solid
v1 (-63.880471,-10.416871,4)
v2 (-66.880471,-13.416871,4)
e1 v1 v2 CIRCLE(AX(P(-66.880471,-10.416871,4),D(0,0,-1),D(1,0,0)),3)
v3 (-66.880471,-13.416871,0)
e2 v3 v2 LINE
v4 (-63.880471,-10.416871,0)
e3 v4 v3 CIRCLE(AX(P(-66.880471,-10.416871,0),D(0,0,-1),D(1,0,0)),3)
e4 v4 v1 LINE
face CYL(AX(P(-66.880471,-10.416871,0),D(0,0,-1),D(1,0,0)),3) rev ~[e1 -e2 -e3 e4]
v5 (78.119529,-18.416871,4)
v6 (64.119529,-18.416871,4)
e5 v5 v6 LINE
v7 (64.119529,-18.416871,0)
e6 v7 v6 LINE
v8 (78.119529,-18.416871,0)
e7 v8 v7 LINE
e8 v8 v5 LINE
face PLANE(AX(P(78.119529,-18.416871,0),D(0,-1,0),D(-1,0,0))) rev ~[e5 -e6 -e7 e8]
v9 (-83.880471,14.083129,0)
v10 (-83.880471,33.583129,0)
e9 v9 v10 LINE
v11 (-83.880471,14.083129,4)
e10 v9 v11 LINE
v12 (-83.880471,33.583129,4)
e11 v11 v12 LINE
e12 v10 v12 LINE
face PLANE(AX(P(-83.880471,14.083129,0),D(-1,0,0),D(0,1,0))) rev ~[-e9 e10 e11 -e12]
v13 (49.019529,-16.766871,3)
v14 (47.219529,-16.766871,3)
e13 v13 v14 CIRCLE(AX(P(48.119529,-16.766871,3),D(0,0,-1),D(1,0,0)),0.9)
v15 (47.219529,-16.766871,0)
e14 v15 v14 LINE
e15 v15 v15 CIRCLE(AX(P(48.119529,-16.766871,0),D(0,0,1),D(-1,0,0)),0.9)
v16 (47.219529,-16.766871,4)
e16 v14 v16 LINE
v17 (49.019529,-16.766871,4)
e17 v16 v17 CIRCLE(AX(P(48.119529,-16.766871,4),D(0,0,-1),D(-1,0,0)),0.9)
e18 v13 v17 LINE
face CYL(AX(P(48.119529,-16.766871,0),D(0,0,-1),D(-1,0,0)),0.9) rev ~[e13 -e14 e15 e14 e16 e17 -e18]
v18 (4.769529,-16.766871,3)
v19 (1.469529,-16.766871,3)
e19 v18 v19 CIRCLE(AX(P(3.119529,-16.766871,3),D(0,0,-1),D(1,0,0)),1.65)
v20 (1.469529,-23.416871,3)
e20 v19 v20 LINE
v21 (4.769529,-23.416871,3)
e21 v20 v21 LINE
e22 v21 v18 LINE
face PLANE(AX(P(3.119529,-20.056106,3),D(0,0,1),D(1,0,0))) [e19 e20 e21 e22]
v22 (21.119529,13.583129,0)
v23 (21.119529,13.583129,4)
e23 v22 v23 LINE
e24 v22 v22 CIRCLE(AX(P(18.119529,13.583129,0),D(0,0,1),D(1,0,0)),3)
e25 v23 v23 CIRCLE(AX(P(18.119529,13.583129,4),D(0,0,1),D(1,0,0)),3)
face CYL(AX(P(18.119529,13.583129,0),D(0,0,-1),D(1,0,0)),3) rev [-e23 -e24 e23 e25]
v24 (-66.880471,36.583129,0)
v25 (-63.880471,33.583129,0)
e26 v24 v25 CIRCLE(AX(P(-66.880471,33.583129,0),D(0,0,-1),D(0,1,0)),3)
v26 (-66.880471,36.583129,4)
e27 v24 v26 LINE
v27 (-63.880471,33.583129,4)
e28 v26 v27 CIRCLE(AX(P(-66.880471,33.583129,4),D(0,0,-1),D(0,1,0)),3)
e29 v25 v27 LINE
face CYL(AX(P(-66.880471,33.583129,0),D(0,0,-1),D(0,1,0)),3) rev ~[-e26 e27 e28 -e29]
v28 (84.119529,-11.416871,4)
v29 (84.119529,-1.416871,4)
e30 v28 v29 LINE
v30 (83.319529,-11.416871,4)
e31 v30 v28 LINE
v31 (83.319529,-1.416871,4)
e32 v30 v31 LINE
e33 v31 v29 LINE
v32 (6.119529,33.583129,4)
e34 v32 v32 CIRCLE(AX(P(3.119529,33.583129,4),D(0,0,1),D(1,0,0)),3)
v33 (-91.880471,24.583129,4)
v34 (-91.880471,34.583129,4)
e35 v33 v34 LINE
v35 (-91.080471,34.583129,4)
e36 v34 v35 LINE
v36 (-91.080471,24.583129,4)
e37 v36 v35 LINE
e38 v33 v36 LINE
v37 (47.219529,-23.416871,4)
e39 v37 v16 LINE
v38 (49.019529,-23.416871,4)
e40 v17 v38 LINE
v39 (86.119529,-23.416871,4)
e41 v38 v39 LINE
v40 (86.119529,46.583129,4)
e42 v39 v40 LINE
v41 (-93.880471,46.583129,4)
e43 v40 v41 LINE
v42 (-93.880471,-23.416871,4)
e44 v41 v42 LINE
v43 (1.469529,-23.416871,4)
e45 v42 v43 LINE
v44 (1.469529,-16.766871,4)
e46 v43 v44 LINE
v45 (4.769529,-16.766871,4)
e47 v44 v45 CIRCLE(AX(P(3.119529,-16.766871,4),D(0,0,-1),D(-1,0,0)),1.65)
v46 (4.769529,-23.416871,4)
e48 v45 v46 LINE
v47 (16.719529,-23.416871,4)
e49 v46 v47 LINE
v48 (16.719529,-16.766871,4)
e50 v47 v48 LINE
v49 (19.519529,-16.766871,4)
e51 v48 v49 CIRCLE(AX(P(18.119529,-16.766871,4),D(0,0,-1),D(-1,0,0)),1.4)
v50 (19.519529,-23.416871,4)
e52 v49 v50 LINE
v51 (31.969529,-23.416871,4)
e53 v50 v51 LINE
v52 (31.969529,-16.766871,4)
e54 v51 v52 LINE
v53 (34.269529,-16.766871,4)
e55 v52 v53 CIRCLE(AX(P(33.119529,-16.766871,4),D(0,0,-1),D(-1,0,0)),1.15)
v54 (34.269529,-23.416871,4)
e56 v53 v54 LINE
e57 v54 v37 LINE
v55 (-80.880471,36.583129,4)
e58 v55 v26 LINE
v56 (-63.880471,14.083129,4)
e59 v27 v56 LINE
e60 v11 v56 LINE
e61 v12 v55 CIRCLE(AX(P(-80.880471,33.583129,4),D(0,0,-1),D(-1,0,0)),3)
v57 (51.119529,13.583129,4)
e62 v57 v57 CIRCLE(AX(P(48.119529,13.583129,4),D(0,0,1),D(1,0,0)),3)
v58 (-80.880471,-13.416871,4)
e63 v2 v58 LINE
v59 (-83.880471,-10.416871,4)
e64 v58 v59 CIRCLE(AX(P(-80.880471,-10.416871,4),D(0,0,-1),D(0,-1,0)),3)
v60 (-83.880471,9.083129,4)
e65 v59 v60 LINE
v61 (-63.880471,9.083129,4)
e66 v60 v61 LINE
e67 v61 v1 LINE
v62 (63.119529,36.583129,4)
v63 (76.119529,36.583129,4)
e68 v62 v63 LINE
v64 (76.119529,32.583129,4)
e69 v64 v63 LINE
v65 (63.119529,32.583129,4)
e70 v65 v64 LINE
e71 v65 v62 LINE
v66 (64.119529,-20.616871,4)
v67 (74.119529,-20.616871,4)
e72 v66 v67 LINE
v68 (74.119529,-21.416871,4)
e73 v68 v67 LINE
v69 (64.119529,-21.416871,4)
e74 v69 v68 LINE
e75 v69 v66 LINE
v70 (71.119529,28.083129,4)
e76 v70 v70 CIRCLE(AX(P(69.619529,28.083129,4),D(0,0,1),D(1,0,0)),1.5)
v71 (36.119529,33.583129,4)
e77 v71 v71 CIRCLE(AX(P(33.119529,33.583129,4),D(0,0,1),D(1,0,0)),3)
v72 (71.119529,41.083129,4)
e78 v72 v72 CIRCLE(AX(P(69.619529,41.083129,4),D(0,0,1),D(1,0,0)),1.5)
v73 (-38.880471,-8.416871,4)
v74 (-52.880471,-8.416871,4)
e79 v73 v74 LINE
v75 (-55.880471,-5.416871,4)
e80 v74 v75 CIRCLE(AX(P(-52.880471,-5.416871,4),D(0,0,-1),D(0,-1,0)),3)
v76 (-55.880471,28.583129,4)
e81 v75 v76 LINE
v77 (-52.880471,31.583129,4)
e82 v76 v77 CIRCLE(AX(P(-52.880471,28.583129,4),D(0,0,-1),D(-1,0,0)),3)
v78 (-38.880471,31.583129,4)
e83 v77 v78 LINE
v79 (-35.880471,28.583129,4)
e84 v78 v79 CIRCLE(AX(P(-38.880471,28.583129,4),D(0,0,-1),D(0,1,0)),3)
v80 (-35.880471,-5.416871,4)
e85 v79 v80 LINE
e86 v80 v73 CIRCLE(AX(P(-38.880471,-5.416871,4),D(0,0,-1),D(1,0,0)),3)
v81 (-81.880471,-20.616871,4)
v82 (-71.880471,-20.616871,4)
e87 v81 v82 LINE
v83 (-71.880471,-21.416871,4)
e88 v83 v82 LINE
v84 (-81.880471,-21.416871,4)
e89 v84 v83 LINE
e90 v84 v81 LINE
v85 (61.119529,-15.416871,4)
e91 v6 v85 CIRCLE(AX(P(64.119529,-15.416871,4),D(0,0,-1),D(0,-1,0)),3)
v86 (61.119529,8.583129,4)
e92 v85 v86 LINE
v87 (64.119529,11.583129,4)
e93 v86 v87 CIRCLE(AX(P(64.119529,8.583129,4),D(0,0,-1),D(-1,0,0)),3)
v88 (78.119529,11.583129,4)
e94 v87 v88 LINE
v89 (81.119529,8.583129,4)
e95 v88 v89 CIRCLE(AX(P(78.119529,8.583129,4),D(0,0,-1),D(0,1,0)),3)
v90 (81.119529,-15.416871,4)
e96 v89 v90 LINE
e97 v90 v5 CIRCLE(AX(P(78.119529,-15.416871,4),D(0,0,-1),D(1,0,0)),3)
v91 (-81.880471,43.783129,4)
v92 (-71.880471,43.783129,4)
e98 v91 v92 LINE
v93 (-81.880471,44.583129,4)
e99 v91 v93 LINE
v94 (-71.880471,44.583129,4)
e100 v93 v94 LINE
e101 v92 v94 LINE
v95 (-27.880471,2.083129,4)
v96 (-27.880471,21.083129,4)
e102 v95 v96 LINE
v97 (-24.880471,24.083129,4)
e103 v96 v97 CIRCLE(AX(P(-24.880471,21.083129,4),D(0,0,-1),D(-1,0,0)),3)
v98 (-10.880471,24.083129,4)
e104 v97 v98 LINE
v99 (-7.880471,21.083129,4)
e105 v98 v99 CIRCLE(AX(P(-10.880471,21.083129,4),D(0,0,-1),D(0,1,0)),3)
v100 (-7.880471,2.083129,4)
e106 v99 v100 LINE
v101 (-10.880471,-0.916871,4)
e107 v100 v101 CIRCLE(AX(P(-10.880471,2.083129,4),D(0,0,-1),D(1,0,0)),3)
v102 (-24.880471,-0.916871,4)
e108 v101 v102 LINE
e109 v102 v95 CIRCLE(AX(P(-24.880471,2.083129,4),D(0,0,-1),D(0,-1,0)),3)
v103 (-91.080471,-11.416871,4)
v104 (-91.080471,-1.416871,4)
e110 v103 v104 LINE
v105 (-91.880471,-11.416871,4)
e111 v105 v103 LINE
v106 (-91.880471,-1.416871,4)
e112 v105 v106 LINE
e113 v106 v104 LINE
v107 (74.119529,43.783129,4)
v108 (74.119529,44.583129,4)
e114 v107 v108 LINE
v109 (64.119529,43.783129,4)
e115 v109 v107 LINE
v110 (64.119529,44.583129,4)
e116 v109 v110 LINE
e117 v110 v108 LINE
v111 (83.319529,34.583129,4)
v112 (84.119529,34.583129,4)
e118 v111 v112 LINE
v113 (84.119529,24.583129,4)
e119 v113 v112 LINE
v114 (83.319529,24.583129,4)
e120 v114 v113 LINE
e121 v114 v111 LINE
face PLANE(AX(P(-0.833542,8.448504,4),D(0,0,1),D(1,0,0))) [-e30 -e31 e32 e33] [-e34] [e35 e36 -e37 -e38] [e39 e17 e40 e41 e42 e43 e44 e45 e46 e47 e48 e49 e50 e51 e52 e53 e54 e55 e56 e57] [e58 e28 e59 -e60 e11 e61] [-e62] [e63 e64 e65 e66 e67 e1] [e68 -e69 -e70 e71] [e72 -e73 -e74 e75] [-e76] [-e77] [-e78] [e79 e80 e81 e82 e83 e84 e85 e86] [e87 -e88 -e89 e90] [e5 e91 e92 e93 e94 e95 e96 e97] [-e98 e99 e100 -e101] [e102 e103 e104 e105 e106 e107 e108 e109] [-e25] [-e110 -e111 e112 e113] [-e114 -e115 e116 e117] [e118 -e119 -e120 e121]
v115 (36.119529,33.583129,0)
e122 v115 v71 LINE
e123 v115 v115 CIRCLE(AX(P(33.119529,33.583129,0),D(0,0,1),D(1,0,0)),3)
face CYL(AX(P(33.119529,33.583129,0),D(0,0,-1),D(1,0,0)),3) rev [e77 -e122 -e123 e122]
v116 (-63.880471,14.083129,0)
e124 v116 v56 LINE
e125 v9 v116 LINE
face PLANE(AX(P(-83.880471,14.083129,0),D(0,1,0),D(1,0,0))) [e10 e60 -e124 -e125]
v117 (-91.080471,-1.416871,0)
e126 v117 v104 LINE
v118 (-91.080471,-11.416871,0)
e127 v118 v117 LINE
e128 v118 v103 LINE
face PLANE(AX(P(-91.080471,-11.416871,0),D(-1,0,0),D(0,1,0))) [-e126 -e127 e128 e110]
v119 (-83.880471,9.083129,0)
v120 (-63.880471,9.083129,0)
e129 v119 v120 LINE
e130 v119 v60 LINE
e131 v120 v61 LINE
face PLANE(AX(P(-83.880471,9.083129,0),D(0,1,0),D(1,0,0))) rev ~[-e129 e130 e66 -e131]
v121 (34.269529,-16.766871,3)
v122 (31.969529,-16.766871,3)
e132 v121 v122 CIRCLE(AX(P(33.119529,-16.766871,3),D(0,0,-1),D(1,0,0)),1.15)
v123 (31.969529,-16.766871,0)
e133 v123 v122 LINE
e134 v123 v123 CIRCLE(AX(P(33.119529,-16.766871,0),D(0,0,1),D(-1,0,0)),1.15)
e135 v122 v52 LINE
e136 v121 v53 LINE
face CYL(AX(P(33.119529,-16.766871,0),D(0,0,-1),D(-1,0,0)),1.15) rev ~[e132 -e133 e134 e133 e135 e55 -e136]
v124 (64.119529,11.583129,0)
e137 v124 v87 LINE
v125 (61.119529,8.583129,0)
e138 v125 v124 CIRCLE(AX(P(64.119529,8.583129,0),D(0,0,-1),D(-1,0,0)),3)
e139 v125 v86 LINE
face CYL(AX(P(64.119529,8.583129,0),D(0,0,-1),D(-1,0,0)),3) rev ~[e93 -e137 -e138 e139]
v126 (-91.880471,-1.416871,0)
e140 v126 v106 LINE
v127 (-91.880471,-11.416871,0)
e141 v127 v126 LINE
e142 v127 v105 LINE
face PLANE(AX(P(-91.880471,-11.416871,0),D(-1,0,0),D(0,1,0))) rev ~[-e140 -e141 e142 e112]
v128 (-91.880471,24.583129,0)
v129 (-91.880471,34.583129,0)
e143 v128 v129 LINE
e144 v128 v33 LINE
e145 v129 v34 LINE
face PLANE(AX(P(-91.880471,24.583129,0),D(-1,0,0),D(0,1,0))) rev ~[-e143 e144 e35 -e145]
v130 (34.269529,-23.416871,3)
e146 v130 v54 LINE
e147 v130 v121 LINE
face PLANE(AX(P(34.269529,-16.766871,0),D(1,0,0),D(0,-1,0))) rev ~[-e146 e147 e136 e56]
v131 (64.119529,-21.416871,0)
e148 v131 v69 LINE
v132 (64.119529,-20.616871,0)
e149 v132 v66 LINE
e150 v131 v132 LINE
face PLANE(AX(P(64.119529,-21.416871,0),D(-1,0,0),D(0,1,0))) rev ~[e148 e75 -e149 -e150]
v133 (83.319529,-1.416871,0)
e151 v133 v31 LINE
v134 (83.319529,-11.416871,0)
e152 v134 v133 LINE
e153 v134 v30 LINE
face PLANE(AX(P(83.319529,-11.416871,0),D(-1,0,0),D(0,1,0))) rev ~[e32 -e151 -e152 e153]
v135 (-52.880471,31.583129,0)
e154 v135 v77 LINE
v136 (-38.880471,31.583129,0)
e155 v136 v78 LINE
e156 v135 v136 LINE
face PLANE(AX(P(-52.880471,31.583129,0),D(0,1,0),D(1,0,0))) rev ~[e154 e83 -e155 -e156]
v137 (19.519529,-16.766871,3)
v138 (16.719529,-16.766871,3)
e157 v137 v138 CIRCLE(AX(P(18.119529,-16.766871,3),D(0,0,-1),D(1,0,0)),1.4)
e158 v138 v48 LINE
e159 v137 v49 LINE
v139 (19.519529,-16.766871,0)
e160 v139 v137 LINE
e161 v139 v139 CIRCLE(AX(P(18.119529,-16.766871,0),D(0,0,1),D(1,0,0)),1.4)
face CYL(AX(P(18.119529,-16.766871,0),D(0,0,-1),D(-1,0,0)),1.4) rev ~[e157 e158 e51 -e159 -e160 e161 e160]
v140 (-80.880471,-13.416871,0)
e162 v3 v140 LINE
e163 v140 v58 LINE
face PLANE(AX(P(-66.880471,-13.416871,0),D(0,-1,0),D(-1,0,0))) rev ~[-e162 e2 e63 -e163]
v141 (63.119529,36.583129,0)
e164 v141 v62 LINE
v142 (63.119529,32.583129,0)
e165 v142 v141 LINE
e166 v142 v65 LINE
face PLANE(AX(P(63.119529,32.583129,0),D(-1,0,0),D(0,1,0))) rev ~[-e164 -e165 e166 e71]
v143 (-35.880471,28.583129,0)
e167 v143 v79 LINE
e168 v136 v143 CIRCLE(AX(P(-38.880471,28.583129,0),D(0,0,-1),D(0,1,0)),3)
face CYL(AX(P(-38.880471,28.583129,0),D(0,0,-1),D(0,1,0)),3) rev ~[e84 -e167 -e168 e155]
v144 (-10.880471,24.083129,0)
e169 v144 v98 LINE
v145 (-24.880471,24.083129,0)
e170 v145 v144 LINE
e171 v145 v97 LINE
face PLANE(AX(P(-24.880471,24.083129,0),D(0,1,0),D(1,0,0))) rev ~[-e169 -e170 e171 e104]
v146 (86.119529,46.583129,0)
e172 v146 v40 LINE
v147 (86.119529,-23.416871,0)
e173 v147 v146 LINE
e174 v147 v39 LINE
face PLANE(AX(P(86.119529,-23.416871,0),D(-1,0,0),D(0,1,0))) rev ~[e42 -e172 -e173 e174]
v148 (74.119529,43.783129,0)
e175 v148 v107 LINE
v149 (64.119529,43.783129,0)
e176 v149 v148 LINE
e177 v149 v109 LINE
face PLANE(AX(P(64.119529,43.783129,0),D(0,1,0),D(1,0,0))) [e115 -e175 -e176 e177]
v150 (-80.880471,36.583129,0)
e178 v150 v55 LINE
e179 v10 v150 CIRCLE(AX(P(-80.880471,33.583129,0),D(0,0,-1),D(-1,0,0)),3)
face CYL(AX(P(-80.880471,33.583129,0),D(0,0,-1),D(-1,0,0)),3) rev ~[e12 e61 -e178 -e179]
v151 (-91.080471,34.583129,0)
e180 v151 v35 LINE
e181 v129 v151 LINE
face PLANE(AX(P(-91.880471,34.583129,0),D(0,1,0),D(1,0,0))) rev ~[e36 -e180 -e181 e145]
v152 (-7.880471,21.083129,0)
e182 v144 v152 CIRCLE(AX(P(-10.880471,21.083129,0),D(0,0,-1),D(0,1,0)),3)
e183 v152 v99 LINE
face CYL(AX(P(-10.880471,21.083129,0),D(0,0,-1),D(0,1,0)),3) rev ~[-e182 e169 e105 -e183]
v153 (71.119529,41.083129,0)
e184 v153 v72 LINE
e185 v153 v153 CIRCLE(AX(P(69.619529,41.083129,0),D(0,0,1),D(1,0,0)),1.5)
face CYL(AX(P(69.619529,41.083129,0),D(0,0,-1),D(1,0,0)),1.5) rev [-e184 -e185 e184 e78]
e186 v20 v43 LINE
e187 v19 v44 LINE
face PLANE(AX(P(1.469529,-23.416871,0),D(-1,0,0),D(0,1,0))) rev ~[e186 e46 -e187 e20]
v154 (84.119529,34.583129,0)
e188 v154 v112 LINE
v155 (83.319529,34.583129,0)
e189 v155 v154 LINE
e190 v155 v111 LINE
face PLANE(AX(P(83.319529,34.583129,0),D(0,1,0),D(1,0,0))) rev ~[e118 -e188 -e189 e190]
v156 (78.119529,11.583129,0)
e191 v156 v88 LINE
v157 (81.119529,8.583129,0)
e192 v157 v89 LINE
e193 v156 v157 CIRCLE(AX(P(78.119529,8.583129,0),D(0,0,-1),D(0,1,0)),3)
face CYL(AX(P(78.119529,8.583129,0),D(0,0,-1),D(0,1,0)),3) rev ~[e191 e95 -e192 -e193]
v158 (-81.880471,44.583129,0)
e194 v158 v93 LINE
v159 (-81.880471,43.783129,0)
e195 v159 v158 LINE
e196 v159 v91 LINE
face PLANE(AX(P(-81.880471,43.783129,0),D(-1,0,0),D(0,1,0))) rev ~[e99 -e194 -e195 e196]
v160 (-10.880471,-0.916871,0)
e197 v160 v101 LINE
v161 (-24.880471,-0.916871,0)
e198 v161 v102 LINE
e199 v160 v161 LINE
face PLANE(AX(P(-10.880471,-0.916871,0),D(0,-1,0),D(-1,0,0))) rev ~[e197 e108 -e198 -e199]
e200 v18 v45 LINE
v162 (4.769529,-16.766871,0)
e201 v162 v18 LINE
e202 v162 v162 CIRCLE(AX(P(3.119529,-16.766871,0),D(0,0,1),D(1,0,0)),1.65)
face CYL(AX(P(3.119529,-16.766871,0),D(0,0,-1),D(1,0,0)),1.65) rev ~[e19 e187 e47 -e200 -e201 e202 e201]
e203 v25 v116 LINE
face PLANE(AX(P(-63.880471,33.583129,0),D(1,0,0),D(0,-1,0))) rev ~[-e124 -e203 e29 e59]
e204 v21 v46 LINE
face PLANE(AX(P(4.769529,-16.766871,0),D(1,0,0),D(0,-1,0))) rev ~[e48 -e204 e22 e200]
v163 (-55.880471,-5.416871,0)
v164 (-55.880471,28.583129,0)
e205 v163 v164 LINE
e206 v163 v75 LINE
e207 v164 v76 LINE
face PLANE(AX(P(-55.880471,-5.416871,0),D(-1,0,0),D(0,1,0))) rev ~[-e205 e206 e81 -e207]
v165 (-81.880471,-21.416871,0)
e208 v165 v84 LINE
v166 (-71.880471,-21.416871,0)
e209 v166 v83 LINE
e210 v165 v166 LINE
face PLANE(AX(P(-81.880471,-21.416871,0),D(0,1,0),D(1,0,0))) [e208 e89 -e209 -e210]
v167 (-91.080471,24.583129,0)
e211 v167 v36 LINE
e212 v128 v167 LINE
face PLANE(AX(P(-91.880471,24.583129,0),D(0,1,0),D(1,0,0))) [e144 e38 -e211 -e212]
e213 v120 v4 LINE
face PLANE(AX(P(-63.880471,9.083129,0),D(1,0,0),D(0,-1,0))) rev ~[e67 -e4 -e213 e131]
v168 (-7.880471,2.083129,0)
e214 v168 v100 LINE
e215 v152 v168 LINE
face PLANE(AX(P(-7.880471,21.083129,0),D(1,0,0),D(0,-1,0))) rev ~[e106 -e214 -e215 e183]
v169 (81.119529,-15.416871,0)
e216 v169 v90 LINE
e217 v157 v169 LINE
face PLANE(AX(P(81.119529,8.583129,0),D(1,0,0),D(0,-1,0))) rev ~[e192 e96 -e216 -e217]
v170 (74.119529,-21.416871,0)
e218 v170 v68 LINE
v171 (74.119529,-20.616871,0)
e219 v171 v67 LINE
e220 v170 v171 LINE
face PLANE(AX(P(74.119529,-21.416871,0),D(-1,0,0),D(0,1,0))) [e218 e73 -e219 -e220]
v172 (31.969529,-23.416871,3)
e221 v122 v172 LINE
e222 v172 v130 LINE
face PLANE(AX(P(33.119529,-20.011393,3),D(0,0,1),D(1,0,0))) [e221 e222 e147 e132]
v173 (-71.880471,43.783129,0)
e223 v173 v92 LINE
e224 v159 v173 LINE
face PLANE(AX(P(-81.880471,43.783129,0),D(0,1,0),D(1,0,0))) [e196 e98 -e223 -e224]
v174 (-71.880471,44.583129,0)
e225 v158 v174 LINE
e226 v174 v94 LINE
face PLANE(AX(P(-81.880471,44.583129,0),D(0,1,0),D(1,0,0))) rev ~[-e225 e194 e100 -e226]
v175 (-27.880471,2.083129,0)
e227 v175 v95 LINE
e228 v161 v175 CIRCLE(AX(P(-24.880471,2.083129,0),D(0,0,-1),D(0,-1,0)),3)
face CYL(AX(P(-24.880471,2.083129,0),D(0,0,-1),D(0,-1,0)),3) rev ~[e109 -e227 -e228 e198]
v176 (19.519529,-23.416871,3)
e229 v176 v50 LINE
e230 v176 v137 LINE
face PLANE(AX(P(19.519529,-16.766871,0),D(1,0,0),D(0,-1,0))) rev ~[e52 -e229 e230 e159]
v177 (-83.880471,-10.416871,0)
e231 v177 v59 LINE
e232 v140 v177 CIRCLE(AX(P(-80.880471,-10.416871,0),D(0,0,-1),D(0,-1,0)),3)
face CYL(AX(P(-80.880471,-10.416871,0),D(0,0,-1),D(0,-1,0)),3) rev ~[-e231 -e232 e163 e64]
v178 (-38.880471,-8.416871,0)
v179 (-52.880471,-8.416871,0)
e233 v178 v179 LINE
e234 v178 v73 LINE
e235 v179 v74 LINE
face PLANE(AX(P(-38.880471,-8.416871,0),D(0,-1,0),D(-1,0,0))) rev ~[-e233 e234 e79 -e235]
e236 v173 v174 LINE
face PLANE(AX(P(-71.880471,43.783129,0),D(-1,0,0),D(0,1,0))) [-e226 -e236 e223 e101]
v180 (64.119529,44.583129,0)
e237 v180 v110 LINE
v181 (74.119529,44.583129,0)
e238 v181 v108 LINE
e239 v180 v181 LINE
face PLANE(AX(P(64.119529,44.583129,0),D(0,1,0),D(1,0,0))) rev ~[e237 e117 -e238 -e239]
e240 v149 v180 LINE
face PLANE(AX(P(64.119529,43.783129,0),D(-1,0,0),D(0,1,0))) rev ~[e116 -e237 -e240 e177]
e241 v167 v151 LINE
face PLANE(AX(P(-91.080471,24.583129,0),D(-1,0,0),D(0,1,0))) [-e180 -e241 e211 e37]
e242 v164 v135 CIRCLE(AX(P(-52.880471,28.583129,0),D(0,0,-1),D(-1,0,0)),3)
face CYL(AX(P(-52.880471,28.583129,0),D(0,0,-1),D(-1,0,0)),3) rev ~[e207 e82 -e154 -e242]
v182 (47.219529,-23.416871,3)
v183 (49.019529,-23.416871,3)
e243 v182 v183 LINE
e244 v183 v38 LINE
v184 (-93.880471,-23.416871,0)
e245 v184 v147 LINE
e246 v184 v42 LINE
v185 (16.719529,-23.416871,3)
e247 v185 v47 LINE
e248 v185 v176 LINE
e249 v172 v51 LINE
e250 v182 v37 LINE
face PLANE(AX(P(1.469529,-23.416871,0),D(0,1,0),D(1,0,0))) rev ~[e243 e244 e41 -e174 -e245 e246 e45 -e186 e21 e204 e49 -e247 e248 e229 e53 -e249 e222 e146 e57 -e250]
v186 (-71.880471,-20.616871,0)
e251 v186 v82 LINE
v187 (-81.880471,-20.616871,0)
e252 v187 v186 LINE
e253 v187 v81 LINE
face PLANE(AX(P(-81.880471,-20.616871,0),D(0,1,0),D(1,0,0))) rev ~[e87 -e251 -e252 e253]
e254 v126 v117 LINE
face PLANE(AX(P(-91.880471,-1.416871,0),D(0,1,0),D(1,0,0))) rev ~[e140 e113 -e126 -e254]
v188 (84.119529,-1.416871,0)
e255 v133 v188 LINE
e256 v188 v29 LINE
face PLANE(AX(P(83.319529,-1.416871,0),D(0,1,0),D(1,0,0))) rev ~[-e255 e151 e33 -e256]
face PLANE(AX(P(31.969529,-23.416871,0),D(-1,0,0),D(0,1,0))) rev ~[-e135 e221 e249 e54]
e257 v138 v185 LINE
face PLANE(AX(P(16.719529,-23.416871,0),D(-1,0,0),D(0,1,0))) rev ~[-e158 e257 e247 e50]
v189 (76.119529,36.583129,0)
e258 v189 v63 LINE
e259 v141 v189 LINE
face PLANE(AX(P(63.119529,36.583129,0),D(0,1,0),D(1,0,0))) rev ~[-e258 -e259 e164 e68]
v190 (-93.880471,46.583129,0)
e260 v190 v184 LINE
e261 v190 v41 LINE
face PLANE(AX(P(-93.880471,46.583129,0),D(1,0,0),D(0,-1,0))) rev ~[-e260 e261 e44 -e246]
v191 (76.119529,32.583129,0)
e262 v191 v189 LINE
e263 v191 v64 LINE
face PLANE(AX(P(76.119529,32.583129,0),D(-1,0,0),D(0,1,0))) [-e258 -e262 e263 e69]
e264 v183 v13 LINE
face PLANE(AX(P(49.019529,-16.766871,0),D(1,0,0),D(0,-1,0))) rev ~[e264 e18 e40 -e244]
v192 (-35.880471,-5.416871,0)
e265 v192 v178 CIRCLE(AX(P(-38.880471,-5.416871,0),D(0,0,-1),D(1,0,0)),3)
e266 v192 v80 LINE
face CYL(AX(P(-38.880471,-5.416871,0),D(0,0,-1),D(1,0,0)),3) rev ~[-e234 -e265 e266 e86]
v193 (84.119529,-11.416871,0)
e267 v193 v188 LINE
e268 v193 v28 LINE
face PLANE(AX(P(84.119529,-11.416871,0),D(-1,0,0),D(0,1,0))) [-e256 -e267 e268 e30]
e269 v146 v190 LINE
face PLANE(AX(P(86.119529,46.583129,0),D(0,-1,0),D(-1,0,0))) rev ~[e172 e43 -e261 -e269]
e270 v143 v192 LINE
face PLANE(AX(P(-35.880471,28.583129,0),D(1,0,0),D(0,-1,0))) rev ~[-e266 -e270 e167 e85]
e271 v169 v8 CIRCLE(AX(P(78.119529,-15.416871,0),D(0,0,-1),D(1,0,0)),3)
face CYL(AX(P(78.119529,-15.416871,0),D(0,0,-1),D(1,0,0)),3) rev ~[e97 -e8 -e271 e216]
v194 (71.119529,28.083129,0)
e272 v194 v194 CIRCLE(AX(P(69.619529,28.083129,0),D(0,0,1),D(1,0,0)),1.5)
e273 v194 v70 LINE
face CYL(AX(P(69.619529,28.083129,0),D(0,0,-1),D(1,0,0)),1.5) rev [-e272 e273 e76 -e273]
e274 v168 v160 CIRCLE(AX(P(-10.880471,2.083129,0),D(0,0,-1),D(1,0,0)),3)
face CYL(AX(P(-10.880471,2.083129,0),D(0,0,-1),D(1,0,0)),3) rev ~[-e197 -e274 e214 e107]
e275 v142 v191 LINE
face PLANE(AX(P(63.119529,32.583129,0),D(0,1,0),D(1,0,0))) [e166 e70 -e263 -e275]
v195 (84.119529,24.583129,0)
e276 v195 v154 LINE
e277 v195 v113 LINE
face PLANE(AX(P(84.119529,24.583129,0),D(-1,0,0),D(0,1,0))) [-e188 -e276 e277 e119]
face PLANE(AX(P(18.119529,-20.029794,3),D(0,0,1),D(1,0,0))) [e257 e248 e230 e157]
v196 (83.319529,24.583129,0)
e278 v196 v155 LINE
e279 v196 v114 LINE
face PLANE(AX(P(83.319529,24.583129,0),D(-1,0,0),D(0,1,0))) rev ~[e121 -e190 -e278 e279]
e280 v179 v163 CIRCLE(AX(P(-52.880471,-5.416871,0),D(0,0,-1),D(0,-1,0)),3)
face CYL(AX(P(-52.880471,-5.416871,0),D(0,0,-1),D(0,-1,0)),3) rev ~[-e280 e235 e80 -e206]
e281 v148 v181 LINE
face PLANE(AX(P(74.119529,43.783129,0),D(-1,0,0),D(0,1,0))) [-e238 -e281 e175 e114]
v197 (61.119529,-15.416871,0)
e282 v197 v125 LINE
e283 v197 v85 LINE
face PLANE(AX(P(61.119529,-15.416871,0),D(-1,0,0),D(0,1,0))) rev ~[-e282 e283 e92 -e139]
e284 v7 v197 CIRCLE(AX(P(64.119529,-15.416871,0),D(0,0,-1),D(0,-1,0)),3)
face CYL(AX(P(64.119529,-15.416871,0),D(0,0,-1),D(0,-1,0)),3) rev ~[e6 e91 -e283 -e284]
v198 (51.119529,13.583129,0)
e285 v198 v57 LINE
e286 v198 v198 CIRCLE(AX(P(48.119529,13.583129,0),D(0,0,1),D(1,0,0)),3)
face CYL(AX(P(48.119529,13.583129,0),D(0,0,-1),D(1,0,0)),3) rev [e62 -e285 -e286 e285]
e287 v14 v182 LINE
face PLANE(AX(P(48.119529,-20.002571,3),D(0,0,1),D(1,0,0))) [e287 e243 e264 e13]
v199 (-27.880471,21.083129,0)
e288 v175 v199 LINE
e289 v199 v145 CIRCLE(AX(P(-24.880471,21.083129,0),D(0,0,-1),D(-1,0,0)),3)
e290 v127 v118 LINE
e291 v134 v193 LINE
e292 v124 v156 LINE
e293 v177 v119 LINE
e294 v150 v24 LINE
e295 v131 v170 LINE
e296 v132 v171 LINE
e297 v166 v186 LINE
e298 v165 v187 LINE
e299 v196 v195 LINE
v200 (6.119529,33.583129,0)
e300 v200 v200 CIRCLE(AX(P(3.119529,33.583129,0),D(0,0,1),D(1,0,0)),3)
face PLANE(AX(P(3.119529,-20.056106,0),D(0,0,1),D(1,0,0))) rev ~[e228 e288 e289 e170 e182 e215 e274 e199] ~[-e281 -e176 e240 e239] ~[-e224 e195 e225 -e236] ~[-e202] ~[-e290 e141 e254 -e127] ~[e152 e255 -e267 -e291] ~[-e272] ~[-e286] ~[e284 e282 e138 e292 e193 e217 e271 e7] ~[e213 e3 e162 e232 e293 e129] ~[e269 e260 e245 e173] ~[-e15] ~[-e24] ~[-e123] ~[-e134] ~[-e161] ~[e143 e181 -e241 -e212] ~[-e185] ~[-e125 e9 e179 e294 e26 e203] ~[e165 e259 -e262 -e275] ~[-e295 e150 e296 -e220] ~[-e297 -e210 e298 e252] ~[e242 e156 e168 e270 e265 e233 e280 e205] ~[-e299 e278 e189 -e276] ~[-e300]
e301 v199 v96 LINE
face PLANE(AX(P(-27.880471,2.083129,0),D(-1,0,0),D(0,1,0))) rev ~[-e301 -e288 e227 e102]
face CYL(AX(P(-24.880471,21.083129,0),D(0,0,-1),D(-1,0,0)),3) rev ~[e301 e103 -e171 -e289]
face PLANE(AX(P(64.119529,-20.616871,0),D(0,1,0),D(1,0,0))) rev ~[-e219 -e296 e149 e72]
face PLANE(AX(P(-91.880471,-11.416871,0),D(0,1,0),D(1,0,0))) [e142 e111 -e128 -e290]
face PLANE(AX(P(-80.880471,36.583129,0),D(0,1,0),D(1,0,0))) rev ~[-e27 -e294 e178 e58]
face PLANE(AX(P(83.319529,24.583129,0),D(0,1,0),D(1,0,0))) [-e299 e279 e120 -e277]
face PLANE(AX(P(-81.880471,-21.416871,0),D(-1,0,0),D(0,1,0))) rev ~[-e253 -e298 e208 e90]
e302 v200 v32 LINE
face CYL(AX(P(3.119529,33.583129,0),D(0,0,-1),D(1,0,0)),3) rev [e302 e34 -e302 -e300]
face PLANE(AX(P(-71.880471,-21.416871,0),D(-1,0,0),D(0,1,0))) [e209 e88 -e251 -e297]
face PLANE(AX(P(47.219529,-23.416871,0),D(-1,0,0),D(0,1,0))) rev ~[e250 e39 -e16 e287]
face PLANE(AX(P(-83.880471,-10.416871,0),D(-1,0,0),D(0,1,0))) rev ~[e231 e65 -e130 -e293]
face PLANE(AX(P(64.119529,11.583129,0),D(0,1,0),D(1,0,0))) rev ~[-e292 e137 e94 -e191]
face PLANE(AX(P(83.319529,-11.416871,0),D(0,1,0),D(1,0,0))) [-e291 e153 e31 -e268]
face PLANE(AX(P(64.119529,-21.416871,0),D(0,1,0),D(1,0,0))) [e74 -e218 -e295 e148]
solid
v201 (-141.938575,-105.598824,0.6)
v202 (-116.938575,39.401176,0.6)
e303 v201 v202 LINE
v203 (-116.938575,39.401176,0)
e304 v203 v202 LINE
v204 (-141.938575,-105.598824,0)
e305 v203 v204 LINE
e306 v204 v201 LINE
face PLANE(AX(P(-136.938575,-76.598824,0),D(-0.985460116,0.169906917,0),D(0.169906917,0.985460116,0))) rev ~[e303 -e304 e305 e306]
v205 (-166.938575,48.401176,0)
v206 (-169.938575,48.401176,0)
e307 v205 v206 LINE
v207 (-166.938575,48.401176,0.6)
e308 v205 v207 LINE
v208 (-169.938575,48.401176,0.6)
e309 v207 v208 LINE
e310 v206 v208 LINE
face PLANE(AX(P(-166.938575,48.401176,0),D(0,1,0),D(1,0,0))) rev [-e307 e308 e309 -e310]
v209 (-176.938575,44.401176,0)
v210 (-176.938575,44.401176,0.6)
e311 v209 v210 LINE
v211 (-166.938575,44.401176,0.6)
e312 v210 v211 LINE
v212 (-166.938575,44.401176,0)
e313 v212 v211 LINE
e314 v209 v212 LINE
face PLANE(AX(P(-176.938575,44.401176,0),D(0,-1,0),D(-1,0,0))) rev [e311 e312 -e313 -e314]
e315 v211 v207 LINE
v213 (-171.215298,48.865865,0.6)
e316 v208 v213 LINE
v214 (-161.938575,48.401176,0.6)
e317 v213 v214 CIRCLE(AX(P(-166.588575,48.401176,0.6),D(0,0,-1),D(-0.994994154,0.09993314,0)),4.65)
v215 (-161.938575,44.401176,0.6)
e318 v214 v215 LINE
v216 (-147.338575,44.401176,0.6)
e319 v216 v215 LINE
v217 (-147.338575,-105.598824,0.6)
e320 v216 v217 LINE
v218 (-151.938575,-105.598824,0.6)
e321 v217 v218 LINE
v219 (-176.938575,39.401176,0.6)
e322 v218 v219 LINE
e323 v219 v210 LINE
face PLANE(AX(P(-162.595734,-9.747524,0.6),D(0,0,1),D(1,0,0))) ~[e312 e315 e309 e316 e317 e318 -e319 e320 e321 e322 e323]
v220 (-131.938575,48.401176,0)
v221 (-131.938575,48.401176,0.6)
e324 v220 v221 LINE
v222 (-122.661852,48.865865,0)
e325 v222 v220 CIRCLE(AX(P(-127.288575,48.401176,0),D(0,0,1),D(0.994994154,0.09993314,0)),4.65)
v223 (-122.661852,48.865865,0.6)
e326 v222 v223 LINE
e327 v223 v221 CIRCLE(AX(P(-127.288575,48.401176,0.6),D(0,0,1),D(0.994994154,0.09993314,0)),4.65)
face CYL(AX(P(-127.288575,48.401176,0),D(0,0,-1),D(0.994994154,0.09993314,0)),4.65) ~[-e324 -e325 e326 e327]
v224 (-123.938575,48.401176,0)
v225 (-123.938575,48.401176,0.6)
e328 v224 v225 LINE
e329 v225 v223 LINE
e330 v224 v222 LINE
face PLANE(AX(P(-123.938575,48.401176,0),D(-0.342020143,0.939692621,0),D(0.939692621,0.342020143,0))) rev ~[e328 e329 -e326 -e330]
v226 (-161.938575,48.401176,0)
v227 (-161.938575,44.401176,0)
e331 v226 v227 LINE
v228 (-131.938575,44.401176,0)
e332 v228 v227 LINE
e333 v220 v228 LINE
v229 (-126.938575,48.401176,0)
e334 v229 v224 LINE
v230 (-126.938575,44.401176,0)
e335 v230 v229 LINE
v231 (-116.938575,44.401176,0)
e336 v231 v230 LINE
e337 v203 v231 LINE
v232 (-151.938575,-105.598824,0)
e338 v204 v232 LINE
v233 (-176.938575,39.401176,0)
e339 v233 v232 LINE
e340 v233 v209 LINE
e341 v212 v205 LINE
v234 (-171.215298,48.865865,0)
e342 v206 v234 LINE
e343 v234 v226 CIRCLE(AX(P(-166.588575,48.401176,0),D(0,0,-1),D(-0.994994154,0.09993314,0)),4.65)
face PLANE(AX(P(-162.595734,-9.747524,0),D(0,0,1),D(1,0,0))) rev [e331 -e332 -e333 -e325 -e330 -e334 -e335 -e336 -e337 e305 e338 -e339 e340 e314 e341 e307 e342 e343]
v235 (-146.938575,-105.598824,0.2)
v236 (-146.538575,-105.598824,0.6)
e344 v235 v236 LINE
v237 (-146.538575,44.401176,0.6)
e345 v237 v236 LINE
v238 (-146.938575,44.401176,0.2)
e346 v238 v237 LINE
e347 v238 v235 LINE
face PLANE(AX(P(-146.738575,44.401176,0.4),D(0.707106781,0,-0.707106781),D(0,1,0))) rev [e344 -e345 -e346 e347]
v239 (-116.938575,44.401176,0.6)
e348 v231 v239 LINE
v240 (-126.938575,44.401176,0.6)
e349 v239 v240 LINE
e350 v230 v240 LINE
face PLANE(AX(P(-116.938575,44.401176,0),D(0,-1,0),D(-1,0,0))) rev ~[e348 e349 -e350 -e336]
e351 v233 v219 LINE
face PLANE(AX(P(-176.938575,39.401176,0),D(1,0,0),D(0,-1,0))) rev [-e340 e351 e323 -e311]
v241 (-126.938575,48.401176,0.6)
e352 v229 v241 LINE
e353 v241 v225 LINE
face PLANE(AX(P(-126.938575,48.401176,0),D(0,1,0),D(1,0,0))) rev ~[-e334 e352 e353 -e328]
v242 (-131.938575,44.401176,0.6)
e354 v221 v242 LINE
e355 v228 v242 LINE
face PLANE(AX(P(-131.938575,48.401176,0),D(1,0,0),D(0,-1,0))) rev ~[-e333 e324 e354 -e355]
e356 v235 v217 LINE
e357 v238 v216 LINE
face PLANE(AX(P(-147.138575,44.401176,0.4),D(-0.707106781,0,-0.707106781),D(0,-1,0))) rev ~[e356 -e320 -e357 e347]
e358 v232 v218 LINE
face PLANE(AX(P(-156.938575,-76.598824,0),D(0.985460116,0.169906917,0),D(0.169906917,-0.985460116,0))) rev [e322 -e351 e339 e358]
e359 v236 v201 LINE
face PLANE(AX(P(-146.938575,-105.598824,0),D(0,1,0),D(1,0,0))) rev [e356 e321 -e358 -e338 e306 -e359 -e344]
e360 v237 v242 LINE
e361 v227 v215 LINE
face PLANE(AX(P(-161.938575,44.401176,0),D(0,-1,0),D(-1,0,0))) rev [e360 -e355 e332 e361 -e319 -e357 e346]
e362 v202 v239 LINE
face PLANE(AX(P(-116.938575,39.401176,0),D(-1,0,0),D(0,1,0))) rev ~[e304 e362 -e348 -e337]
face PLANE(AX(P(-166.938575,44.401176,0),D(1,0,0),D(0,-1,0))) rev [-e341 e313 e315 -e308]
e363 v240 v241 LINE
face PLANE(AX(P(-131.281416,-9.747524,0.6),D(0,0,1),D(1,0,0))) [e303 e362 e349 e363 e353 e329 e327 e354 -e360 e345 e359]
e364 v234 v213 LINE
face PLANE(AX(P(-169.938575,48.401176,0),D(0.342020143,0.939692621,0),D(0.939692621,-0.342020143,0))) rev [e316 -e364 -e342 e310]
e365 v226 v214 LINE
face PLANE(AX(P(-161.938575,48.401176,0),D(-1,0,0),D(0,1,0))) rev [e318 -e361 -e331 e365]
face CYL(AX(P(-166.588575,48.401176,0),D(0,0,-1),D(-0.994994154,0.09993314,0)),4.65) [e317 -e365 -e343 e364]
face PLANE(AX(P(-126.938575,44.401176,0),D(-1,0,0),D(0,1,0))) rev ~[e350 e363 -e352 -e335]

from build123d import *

# Parameters (mm, degrees)
F0_W     = 0.8
F0_H     = 10
F0_W_2   = 10
F0_H_2   = 0.8
F0_R     = 3
F0_R_2   = 1.5
F0_W_3   = 13
F0_H_3   = 4
F0_W_4   = 20
F0_H_4   = 5
F1_DEPTH = 4
F2_DEPTH = 0.6
F3_DEPTH = 0.6
F4_SIZE  = 0.4
F6_DEPTH = 3


with BuildPart() as f1:
    # F0 (on Top) → F1 (new body)
    with BuildSketch(Plane.XY):
        with BuildLine():
            Line((86.1195294857, 46.5831286013), (-93.8804705143, 46.5831286013))
            Line((-93.8804705143, 46.5831286013), (-93.8804705143, -23.4168713987))
            Line((-93.8804705143, -23.4168713987), (1.4695294857, -23.4168713987))
            Line((1.4695294857, -23.4168713987), (1.4695294857, -16.7668713987))
            ThreePointArc((1.4695294857, -16.7668713987), (3.1195294857, -15.1168713987), (4.7695294857, -16.7668713987))
            Line((4.7695294857, -16.7668713987), (4.7695294857, -23.4168713987))
            Line((4.7695294857, -23.4168713987), (16.7195294857, -23.4168713987))
            Line((16.7195294857, -23.4168713987), (16.7195294857, -16.7668713987))
            ThreePointArc((16.7195294857, -16.7668713987), (18.1195294857, -15.3668713987), (19.5195294857, -16.7668713987))
            Line((19.5195294857, -16.7668713987), (19.5195294857, -23.4168713987))
            Line((19.5195294857, -23.4168713987), (31.9695294857, -23.4168713987))
            Line((31.9695294857, -23.4168713987), (31.9695294857, -16.7668713987))
            ThreePointArc((31.9695294857, -16.7668713987), (33.1195294857, -15.6168713987), (34.2695294857, -16.7668713987))
            Line((34.2695294857, -16.7668713987), (34.2695294857, -23.4168713987))
            Line((34.2695294857, -23.4168713987), (47.2195294857, -23.4168713987))
            Line((47.2195294857, -23.4168713987), (47.2195294857, -16.7668713987))
            ThreePointArc((47.2195294857, -16.7668713987), (48.1195294857, -15.8668713987), (49.0195294857, -16.7668713987))
            Line((49.0195294857, -16.7668713987), (49.0195294857, -23.4168713987))
            Line((49.0195294857, -23.4168713987), (86.1195294857, -23.4168713987))
            Line((86.1195294857, -23.4168713987), (86.1195294857, -13.4168713987))
            Line((86.1195294857, -13.4168713987), (86.1195294857, -7.4168713987))
            Line((86.1195294857, -7.4168713987), (86.1195294857, 30.5831286013))
            Line((86.1195294857, 30.5831286013), (86.1195294857, 36.5831286013))
            Line((86.1195294857, 36.5831286013), (86.1195294857, 46.5831286013))
        make_face()
        with Locations((-91.4804705143, -6.4168713987)):
            Rectangle(F0_W, F0_H, mode=Mode.SUBTRACT)
        with Locations((-76.8804705143, -21.0168713987)):
            Rectangle(F0_W_2, F0_H_2, mode=Mode.SUBTRACT)
        with Locations((69.1195294857, -21.0168713987)):
            Rectangle(F0_W_2, F0_H_2, mode=Mode.SUBTRACT)
        with BuildLine():
            ThreePointArc((61.1195294857, 8.5831286013), (61.9982091421, 10.7044489449), (64.1195294857, 11.5831286013))
            Line((64.1195294857, 11.5831286013), (78.1195294857, 11.5831286013))
            ThreePointArc((78.1195294857, 11.5831286013), (80.2408498293, 10.7044489449), (81.1195294857, 8.5831286013))
            Line((81.1195294857, 8.5831286013), (81.1195294857, -15.4168713987))
            ThreePointArc((81.1195294857, -15.4168713987), (80.2408498293, -17.5381917422), (78.1195294857, -18.4168713987))
            Line((78.1195294857, -18.4168713987), (64.1195294857, -18.4168713987))
            ThreePointArc((64.1195294857, -18.4168713987), (61.9982091421, -17.5381917422), (61.1195294857, -15.4168713987))
            Line((61.1195294857, -15.4168713987), (61.1195294857, 8.5831286013))
        make_face(mode=Mode.SUBTRACT)
        with Locations((83.7195294857, -6.4168713987)):
            Rectangle(F0_W, F0_H, mode=Mode.SUBTRACT)
        with Locations((-91.4804705143, 29.5831286013)):
            Rectangle(F0_W, F0_H, mode=Mode.SUBTRACT)
        with BuildLine():
            ThreePointArc((-83.8804705143, 33.5831286013), (-83.0017908579, 35.7044489449), (-80.8804705143, 36.5831286013))
            Line((-80.8804705143, 36.5831286013), (-66.8804705143, 36.5831286013))
            ThreePointArc((-66.8804705143, 36.5831286013), (-64.7591501707, 35.7044489449), (-63.8804705143, 33.5831286013))
            Line((-63.8804705143, 33.5831286013), (-63.8804705143, 14.0831286013))
            Line((-63.8804705143, 14.0831286013), (-63.8804705143, 9.0831286013))
            Line((-63.8804705143, 9.0831286013), (-63.8804705143, -10.4168713987))
            ThreePointArc((-63.8804705143, -10.4168713987), (-64.7591501707, -12.5381917422), (-66.8804705143, -13.4168713987))
            Line((-66.8804705143, -13.4168713987), (-80.8804705143, -13.4168713987))
            ThreePointArc((-80.8804705143, -13.4168713987), (-83.0017908579, -12.5381917422), (-83.8804705143, -10.4168713987))
            Line((-83.8804705143, -10.4168713987), (-83.8804705143, 9.0831286013))
            Line((-83.8804705143, 9.0831286013), (-83.8804705143, 14.0831286013))
            Line((-83.8804705143, 14.0831286013), (-83.8804705143, 33.5831286013))
        make_face(mode=Mode.SUBTRACT)
        with BuildLine():
            ThreePointArc((-55.8804705143, 28.5831286013), (-55.0017908579, 30.7044489449), (-52.8804705143, 31.5831286013))
            Line((-52.8804705143, 31.5831286013), (-38.8804705143, 31.5831286013))
            ThreePointArc((-38.8804705143, 31.5831286013), (-36.7591501707, 30.7044489449), (-35.8804705143, 28.5831286013))
            Line((-35.8804705143, 28.5831286013), (-35.8804705143, -5.4168713987))
            ThreePointArc((-35.8804705143, -5.4168713987), (-36.7591501707, -7.5381917422), (-38.8804705143, -8.4168713987))
            Line((-38.8804705143, -8.4168713987), (-52.8804705143, -8.4168713987))
            ThreePointArc((-52.8804705143, -8.4168713987), (-55.0017908579, -7.5381917422), (-55.8804705143, -5.4168713987))
            Line((-55.8804705143, -5.4168713987), (-55.8804705143, 28.5831286013))
        make_face(mode=Mode.SUBTRACT)
        with Locations((-76.8804705143, 44.1831286013)):
            Rectangle(F0_W_2, F0_H_2, mode=Mode.SUBTRACT)
        with BuildLine():
            ThreePointArc((-27.8804705143, 21.0831286013), (-27.0017908579, 23.2044489449), (-24.8804705143, 24.0831286013))
            Line((-24.8804705143, 24.0831286013), (-10.8804705143, 24.0831286013))
            ThreePointArc((-10.8804705143, 24.0831286013), (-8.7591501707, 23.2044489449), (-7.8804705143, 21.0831286013))
            Line((-7.8804705143, 21.0831286013), (-7.8804705143, 2.0831286013))
            ThreePointArc((-7.8804705143, 2.0831286013), (-8.7591501707, -0.0381917422), (-10.8804705143, -0.9168713987))
            Line((-10.8804705143, -0.9168713987), (-24.8804705143, -0.9168713987))
            ThreePointArc((-24.8804705143, -0.9168713987), (-27.0017908579, -0.0381917422), (-27.8804705143, 2.0831286013))
            Line((-27.8804705143, 2.0831286013), (-27.8804705143, 21.0831286013))
        make_face(mode=Mode.SUBTRACT)
        with Locations((18.1195294857, 13.5831286013)):
            Circle(F0_R, mode=Mode.SUBTRACT)
        with Locations((3.1195294857, 33.5831286013)):
            Circle(F0_R, mode=Mode.SUBTRACT)
        with Locations((33.1195294857, 33.5831286013)):
            Circle(F0_R, mode=Mode.SUBTRACT)
        with Locations((48.1195294857, 13.5831286013)):
            Circle(F0_R, mode=Mode.SUBTRACT)
        with Locations((69.6195294857, 28.0831286013)):
            Circle(F0_R_2, mode=Mode.SUBTRACT)
        with Locations((69.6195294857, 34.5831286013)):
            Rectangle(F0_W_3, F0_H_3, mode=Mode.SUBTRACT)
        with Locations((69.6195294857, 41.0831286013)):
            Circle(F0_R_2, mode=Mode.SUBTRACT)
        with Locations((69.1195294857, 44.1831286013)):
            Rectangle(F0_W_2, F0_H_2, mode=Mode.SUBTRACT)
        with Locations((83.7195294857, 29.5831286013)):
            Rectangle(F0_W, F0_H, mode=Mode.SUBTRACT)
        with Locations((-73.8804705143, 11.5831286013)):
            Rectangle(F0_W_4, F0_H_4)
    extrude(amount=F1_DEPTH)

    # F0 (on Top) → F6 (join)
    with BuildSketch(Plane.XY):
        with BuildLine():
            Line((1.4695294857, -16.7668713987), (1.4695294857, -23.4168713987))
            Line((1.4695294857, -23.4168713987), (4.7695294857, -23.4168713987))
            Line((4.7695294857, -23.4168713987), (4.7695294857, -16.7668713987))
            ThreePointArc((4.7695294857, -16.7668713987), (3.1195294857, -18.4168713987), (1.4695294857, -16.7668713987))
        make_face()
        with BuildLine():
            Line((16.7195294857, -16.7668713987), (16.7195294857, -23.4168713987))
            Line((16.7195294857, -23.4168713987), (19.5195294857, -23.4168713987))
            Line((19.5195294857, -23.4168713987), (19.5195294857, -16.7668713987))
            ThreePointArc((19.5195294857, -16.7668713987), (18.1195294857, -18.1668713987), (16.7195294857, -16.7668713987))
        make_face()
        with BuildLine():
            Line((31.9695294857, -16.7668713987), (31.9695294857, -23.4168713987))
            Line((31.9695294857, -23.4168713987), (34.2695294857, -23.4168713987))
            Line((34.2695294857, -23.4168713987), (34.2695294857, -16.7668713987))
            ThreePointArc((34.2695294857, -16.7668713987), (33.1195294857, -17.9168713987), (31.9695294857, -16.7668713987))
        make_face()
        with BuildLine():
            Line((47.2195294857, -23.4168713987), (49.0195294857, -23.4168713987))
            Line((49.0195294857, -23.4168713987), (49.0195294857, -16.7668713987))
            ThreePointArc((49.0195294857, -16.7668713987), (48.1195294857, -17.6668713987), (47.2195294857, -16.7668713987))
            Line((47.2195294857, -16.7668713987), (47.2195294857, -23.4168713987))
        make_face()
    extrude(amount=F6_DEPTH)


with BuildPart() as f2:
    # F0 (on Top) → F2 (new body)
    with BuildSketch(Plane.XY):
        Polygon((-136.9385750294, 44.4011760906), (-146.9385750294, 44.4011760906), (-146.9385750294, -105.5988239094), (-141.9385750294, -105.5988239094), (-136.9385750294, -76.5988239094), align=None)
    extrude(amount=F2_DEPTH)

    # F0 (on Top) → F3 (join)
    with BuildSketch(Plane.XY):
        Polygon((-131.9385750294, 44.4011760906), (-136.9385750294, 44.4011760906), (-136.9385750294, -76.5988239094), (-116.9385750294, 39.4011760906), (-116.9385750294, 44.4011760906), (-126.9385750294, 44.4011760906), (-126.9385750294, 48.4011760906), (-131.9385750294, 48.4011760906), align=None)
        with BuildLine():
            ThreePointArc((-122.6618522111, 48.8658651938), (-127.5212108982, 53.0453531493), (-131.9385750294, 48.4011760906))
            Line((-131.9385750294, 48.4011760906), (-126.9385750294, 48.4011760906))
            Line((-126.9385750294, 48.4011760906), (-123.9385750294, 48.4011760906))
            Line((-123.9385750294, 48.4011760906), (-122.6618522111, 48.8658651938))
        make_face()
    extrude(amount=F3_DEPTH)

    # F4
    f4_edges = [f2.edges().sort_by_distance(p)[0] for p in [
        (-146.938575, -30.598824, 0.6),
    ]]
    chamfer(f4_edges, length=F4_SIZE)

    # F5: F2 across face


with BuildPart() as f2_1:
    add(f2.part)
    add(f2.part.mirror(Plane(origin=(-146.9385750294, -30.5988239094, 0.1), x_dir=(0, -1, 0), z_dir=(-1, 0, 0))))


solid = Compound([f1.part, f2_1.part])
